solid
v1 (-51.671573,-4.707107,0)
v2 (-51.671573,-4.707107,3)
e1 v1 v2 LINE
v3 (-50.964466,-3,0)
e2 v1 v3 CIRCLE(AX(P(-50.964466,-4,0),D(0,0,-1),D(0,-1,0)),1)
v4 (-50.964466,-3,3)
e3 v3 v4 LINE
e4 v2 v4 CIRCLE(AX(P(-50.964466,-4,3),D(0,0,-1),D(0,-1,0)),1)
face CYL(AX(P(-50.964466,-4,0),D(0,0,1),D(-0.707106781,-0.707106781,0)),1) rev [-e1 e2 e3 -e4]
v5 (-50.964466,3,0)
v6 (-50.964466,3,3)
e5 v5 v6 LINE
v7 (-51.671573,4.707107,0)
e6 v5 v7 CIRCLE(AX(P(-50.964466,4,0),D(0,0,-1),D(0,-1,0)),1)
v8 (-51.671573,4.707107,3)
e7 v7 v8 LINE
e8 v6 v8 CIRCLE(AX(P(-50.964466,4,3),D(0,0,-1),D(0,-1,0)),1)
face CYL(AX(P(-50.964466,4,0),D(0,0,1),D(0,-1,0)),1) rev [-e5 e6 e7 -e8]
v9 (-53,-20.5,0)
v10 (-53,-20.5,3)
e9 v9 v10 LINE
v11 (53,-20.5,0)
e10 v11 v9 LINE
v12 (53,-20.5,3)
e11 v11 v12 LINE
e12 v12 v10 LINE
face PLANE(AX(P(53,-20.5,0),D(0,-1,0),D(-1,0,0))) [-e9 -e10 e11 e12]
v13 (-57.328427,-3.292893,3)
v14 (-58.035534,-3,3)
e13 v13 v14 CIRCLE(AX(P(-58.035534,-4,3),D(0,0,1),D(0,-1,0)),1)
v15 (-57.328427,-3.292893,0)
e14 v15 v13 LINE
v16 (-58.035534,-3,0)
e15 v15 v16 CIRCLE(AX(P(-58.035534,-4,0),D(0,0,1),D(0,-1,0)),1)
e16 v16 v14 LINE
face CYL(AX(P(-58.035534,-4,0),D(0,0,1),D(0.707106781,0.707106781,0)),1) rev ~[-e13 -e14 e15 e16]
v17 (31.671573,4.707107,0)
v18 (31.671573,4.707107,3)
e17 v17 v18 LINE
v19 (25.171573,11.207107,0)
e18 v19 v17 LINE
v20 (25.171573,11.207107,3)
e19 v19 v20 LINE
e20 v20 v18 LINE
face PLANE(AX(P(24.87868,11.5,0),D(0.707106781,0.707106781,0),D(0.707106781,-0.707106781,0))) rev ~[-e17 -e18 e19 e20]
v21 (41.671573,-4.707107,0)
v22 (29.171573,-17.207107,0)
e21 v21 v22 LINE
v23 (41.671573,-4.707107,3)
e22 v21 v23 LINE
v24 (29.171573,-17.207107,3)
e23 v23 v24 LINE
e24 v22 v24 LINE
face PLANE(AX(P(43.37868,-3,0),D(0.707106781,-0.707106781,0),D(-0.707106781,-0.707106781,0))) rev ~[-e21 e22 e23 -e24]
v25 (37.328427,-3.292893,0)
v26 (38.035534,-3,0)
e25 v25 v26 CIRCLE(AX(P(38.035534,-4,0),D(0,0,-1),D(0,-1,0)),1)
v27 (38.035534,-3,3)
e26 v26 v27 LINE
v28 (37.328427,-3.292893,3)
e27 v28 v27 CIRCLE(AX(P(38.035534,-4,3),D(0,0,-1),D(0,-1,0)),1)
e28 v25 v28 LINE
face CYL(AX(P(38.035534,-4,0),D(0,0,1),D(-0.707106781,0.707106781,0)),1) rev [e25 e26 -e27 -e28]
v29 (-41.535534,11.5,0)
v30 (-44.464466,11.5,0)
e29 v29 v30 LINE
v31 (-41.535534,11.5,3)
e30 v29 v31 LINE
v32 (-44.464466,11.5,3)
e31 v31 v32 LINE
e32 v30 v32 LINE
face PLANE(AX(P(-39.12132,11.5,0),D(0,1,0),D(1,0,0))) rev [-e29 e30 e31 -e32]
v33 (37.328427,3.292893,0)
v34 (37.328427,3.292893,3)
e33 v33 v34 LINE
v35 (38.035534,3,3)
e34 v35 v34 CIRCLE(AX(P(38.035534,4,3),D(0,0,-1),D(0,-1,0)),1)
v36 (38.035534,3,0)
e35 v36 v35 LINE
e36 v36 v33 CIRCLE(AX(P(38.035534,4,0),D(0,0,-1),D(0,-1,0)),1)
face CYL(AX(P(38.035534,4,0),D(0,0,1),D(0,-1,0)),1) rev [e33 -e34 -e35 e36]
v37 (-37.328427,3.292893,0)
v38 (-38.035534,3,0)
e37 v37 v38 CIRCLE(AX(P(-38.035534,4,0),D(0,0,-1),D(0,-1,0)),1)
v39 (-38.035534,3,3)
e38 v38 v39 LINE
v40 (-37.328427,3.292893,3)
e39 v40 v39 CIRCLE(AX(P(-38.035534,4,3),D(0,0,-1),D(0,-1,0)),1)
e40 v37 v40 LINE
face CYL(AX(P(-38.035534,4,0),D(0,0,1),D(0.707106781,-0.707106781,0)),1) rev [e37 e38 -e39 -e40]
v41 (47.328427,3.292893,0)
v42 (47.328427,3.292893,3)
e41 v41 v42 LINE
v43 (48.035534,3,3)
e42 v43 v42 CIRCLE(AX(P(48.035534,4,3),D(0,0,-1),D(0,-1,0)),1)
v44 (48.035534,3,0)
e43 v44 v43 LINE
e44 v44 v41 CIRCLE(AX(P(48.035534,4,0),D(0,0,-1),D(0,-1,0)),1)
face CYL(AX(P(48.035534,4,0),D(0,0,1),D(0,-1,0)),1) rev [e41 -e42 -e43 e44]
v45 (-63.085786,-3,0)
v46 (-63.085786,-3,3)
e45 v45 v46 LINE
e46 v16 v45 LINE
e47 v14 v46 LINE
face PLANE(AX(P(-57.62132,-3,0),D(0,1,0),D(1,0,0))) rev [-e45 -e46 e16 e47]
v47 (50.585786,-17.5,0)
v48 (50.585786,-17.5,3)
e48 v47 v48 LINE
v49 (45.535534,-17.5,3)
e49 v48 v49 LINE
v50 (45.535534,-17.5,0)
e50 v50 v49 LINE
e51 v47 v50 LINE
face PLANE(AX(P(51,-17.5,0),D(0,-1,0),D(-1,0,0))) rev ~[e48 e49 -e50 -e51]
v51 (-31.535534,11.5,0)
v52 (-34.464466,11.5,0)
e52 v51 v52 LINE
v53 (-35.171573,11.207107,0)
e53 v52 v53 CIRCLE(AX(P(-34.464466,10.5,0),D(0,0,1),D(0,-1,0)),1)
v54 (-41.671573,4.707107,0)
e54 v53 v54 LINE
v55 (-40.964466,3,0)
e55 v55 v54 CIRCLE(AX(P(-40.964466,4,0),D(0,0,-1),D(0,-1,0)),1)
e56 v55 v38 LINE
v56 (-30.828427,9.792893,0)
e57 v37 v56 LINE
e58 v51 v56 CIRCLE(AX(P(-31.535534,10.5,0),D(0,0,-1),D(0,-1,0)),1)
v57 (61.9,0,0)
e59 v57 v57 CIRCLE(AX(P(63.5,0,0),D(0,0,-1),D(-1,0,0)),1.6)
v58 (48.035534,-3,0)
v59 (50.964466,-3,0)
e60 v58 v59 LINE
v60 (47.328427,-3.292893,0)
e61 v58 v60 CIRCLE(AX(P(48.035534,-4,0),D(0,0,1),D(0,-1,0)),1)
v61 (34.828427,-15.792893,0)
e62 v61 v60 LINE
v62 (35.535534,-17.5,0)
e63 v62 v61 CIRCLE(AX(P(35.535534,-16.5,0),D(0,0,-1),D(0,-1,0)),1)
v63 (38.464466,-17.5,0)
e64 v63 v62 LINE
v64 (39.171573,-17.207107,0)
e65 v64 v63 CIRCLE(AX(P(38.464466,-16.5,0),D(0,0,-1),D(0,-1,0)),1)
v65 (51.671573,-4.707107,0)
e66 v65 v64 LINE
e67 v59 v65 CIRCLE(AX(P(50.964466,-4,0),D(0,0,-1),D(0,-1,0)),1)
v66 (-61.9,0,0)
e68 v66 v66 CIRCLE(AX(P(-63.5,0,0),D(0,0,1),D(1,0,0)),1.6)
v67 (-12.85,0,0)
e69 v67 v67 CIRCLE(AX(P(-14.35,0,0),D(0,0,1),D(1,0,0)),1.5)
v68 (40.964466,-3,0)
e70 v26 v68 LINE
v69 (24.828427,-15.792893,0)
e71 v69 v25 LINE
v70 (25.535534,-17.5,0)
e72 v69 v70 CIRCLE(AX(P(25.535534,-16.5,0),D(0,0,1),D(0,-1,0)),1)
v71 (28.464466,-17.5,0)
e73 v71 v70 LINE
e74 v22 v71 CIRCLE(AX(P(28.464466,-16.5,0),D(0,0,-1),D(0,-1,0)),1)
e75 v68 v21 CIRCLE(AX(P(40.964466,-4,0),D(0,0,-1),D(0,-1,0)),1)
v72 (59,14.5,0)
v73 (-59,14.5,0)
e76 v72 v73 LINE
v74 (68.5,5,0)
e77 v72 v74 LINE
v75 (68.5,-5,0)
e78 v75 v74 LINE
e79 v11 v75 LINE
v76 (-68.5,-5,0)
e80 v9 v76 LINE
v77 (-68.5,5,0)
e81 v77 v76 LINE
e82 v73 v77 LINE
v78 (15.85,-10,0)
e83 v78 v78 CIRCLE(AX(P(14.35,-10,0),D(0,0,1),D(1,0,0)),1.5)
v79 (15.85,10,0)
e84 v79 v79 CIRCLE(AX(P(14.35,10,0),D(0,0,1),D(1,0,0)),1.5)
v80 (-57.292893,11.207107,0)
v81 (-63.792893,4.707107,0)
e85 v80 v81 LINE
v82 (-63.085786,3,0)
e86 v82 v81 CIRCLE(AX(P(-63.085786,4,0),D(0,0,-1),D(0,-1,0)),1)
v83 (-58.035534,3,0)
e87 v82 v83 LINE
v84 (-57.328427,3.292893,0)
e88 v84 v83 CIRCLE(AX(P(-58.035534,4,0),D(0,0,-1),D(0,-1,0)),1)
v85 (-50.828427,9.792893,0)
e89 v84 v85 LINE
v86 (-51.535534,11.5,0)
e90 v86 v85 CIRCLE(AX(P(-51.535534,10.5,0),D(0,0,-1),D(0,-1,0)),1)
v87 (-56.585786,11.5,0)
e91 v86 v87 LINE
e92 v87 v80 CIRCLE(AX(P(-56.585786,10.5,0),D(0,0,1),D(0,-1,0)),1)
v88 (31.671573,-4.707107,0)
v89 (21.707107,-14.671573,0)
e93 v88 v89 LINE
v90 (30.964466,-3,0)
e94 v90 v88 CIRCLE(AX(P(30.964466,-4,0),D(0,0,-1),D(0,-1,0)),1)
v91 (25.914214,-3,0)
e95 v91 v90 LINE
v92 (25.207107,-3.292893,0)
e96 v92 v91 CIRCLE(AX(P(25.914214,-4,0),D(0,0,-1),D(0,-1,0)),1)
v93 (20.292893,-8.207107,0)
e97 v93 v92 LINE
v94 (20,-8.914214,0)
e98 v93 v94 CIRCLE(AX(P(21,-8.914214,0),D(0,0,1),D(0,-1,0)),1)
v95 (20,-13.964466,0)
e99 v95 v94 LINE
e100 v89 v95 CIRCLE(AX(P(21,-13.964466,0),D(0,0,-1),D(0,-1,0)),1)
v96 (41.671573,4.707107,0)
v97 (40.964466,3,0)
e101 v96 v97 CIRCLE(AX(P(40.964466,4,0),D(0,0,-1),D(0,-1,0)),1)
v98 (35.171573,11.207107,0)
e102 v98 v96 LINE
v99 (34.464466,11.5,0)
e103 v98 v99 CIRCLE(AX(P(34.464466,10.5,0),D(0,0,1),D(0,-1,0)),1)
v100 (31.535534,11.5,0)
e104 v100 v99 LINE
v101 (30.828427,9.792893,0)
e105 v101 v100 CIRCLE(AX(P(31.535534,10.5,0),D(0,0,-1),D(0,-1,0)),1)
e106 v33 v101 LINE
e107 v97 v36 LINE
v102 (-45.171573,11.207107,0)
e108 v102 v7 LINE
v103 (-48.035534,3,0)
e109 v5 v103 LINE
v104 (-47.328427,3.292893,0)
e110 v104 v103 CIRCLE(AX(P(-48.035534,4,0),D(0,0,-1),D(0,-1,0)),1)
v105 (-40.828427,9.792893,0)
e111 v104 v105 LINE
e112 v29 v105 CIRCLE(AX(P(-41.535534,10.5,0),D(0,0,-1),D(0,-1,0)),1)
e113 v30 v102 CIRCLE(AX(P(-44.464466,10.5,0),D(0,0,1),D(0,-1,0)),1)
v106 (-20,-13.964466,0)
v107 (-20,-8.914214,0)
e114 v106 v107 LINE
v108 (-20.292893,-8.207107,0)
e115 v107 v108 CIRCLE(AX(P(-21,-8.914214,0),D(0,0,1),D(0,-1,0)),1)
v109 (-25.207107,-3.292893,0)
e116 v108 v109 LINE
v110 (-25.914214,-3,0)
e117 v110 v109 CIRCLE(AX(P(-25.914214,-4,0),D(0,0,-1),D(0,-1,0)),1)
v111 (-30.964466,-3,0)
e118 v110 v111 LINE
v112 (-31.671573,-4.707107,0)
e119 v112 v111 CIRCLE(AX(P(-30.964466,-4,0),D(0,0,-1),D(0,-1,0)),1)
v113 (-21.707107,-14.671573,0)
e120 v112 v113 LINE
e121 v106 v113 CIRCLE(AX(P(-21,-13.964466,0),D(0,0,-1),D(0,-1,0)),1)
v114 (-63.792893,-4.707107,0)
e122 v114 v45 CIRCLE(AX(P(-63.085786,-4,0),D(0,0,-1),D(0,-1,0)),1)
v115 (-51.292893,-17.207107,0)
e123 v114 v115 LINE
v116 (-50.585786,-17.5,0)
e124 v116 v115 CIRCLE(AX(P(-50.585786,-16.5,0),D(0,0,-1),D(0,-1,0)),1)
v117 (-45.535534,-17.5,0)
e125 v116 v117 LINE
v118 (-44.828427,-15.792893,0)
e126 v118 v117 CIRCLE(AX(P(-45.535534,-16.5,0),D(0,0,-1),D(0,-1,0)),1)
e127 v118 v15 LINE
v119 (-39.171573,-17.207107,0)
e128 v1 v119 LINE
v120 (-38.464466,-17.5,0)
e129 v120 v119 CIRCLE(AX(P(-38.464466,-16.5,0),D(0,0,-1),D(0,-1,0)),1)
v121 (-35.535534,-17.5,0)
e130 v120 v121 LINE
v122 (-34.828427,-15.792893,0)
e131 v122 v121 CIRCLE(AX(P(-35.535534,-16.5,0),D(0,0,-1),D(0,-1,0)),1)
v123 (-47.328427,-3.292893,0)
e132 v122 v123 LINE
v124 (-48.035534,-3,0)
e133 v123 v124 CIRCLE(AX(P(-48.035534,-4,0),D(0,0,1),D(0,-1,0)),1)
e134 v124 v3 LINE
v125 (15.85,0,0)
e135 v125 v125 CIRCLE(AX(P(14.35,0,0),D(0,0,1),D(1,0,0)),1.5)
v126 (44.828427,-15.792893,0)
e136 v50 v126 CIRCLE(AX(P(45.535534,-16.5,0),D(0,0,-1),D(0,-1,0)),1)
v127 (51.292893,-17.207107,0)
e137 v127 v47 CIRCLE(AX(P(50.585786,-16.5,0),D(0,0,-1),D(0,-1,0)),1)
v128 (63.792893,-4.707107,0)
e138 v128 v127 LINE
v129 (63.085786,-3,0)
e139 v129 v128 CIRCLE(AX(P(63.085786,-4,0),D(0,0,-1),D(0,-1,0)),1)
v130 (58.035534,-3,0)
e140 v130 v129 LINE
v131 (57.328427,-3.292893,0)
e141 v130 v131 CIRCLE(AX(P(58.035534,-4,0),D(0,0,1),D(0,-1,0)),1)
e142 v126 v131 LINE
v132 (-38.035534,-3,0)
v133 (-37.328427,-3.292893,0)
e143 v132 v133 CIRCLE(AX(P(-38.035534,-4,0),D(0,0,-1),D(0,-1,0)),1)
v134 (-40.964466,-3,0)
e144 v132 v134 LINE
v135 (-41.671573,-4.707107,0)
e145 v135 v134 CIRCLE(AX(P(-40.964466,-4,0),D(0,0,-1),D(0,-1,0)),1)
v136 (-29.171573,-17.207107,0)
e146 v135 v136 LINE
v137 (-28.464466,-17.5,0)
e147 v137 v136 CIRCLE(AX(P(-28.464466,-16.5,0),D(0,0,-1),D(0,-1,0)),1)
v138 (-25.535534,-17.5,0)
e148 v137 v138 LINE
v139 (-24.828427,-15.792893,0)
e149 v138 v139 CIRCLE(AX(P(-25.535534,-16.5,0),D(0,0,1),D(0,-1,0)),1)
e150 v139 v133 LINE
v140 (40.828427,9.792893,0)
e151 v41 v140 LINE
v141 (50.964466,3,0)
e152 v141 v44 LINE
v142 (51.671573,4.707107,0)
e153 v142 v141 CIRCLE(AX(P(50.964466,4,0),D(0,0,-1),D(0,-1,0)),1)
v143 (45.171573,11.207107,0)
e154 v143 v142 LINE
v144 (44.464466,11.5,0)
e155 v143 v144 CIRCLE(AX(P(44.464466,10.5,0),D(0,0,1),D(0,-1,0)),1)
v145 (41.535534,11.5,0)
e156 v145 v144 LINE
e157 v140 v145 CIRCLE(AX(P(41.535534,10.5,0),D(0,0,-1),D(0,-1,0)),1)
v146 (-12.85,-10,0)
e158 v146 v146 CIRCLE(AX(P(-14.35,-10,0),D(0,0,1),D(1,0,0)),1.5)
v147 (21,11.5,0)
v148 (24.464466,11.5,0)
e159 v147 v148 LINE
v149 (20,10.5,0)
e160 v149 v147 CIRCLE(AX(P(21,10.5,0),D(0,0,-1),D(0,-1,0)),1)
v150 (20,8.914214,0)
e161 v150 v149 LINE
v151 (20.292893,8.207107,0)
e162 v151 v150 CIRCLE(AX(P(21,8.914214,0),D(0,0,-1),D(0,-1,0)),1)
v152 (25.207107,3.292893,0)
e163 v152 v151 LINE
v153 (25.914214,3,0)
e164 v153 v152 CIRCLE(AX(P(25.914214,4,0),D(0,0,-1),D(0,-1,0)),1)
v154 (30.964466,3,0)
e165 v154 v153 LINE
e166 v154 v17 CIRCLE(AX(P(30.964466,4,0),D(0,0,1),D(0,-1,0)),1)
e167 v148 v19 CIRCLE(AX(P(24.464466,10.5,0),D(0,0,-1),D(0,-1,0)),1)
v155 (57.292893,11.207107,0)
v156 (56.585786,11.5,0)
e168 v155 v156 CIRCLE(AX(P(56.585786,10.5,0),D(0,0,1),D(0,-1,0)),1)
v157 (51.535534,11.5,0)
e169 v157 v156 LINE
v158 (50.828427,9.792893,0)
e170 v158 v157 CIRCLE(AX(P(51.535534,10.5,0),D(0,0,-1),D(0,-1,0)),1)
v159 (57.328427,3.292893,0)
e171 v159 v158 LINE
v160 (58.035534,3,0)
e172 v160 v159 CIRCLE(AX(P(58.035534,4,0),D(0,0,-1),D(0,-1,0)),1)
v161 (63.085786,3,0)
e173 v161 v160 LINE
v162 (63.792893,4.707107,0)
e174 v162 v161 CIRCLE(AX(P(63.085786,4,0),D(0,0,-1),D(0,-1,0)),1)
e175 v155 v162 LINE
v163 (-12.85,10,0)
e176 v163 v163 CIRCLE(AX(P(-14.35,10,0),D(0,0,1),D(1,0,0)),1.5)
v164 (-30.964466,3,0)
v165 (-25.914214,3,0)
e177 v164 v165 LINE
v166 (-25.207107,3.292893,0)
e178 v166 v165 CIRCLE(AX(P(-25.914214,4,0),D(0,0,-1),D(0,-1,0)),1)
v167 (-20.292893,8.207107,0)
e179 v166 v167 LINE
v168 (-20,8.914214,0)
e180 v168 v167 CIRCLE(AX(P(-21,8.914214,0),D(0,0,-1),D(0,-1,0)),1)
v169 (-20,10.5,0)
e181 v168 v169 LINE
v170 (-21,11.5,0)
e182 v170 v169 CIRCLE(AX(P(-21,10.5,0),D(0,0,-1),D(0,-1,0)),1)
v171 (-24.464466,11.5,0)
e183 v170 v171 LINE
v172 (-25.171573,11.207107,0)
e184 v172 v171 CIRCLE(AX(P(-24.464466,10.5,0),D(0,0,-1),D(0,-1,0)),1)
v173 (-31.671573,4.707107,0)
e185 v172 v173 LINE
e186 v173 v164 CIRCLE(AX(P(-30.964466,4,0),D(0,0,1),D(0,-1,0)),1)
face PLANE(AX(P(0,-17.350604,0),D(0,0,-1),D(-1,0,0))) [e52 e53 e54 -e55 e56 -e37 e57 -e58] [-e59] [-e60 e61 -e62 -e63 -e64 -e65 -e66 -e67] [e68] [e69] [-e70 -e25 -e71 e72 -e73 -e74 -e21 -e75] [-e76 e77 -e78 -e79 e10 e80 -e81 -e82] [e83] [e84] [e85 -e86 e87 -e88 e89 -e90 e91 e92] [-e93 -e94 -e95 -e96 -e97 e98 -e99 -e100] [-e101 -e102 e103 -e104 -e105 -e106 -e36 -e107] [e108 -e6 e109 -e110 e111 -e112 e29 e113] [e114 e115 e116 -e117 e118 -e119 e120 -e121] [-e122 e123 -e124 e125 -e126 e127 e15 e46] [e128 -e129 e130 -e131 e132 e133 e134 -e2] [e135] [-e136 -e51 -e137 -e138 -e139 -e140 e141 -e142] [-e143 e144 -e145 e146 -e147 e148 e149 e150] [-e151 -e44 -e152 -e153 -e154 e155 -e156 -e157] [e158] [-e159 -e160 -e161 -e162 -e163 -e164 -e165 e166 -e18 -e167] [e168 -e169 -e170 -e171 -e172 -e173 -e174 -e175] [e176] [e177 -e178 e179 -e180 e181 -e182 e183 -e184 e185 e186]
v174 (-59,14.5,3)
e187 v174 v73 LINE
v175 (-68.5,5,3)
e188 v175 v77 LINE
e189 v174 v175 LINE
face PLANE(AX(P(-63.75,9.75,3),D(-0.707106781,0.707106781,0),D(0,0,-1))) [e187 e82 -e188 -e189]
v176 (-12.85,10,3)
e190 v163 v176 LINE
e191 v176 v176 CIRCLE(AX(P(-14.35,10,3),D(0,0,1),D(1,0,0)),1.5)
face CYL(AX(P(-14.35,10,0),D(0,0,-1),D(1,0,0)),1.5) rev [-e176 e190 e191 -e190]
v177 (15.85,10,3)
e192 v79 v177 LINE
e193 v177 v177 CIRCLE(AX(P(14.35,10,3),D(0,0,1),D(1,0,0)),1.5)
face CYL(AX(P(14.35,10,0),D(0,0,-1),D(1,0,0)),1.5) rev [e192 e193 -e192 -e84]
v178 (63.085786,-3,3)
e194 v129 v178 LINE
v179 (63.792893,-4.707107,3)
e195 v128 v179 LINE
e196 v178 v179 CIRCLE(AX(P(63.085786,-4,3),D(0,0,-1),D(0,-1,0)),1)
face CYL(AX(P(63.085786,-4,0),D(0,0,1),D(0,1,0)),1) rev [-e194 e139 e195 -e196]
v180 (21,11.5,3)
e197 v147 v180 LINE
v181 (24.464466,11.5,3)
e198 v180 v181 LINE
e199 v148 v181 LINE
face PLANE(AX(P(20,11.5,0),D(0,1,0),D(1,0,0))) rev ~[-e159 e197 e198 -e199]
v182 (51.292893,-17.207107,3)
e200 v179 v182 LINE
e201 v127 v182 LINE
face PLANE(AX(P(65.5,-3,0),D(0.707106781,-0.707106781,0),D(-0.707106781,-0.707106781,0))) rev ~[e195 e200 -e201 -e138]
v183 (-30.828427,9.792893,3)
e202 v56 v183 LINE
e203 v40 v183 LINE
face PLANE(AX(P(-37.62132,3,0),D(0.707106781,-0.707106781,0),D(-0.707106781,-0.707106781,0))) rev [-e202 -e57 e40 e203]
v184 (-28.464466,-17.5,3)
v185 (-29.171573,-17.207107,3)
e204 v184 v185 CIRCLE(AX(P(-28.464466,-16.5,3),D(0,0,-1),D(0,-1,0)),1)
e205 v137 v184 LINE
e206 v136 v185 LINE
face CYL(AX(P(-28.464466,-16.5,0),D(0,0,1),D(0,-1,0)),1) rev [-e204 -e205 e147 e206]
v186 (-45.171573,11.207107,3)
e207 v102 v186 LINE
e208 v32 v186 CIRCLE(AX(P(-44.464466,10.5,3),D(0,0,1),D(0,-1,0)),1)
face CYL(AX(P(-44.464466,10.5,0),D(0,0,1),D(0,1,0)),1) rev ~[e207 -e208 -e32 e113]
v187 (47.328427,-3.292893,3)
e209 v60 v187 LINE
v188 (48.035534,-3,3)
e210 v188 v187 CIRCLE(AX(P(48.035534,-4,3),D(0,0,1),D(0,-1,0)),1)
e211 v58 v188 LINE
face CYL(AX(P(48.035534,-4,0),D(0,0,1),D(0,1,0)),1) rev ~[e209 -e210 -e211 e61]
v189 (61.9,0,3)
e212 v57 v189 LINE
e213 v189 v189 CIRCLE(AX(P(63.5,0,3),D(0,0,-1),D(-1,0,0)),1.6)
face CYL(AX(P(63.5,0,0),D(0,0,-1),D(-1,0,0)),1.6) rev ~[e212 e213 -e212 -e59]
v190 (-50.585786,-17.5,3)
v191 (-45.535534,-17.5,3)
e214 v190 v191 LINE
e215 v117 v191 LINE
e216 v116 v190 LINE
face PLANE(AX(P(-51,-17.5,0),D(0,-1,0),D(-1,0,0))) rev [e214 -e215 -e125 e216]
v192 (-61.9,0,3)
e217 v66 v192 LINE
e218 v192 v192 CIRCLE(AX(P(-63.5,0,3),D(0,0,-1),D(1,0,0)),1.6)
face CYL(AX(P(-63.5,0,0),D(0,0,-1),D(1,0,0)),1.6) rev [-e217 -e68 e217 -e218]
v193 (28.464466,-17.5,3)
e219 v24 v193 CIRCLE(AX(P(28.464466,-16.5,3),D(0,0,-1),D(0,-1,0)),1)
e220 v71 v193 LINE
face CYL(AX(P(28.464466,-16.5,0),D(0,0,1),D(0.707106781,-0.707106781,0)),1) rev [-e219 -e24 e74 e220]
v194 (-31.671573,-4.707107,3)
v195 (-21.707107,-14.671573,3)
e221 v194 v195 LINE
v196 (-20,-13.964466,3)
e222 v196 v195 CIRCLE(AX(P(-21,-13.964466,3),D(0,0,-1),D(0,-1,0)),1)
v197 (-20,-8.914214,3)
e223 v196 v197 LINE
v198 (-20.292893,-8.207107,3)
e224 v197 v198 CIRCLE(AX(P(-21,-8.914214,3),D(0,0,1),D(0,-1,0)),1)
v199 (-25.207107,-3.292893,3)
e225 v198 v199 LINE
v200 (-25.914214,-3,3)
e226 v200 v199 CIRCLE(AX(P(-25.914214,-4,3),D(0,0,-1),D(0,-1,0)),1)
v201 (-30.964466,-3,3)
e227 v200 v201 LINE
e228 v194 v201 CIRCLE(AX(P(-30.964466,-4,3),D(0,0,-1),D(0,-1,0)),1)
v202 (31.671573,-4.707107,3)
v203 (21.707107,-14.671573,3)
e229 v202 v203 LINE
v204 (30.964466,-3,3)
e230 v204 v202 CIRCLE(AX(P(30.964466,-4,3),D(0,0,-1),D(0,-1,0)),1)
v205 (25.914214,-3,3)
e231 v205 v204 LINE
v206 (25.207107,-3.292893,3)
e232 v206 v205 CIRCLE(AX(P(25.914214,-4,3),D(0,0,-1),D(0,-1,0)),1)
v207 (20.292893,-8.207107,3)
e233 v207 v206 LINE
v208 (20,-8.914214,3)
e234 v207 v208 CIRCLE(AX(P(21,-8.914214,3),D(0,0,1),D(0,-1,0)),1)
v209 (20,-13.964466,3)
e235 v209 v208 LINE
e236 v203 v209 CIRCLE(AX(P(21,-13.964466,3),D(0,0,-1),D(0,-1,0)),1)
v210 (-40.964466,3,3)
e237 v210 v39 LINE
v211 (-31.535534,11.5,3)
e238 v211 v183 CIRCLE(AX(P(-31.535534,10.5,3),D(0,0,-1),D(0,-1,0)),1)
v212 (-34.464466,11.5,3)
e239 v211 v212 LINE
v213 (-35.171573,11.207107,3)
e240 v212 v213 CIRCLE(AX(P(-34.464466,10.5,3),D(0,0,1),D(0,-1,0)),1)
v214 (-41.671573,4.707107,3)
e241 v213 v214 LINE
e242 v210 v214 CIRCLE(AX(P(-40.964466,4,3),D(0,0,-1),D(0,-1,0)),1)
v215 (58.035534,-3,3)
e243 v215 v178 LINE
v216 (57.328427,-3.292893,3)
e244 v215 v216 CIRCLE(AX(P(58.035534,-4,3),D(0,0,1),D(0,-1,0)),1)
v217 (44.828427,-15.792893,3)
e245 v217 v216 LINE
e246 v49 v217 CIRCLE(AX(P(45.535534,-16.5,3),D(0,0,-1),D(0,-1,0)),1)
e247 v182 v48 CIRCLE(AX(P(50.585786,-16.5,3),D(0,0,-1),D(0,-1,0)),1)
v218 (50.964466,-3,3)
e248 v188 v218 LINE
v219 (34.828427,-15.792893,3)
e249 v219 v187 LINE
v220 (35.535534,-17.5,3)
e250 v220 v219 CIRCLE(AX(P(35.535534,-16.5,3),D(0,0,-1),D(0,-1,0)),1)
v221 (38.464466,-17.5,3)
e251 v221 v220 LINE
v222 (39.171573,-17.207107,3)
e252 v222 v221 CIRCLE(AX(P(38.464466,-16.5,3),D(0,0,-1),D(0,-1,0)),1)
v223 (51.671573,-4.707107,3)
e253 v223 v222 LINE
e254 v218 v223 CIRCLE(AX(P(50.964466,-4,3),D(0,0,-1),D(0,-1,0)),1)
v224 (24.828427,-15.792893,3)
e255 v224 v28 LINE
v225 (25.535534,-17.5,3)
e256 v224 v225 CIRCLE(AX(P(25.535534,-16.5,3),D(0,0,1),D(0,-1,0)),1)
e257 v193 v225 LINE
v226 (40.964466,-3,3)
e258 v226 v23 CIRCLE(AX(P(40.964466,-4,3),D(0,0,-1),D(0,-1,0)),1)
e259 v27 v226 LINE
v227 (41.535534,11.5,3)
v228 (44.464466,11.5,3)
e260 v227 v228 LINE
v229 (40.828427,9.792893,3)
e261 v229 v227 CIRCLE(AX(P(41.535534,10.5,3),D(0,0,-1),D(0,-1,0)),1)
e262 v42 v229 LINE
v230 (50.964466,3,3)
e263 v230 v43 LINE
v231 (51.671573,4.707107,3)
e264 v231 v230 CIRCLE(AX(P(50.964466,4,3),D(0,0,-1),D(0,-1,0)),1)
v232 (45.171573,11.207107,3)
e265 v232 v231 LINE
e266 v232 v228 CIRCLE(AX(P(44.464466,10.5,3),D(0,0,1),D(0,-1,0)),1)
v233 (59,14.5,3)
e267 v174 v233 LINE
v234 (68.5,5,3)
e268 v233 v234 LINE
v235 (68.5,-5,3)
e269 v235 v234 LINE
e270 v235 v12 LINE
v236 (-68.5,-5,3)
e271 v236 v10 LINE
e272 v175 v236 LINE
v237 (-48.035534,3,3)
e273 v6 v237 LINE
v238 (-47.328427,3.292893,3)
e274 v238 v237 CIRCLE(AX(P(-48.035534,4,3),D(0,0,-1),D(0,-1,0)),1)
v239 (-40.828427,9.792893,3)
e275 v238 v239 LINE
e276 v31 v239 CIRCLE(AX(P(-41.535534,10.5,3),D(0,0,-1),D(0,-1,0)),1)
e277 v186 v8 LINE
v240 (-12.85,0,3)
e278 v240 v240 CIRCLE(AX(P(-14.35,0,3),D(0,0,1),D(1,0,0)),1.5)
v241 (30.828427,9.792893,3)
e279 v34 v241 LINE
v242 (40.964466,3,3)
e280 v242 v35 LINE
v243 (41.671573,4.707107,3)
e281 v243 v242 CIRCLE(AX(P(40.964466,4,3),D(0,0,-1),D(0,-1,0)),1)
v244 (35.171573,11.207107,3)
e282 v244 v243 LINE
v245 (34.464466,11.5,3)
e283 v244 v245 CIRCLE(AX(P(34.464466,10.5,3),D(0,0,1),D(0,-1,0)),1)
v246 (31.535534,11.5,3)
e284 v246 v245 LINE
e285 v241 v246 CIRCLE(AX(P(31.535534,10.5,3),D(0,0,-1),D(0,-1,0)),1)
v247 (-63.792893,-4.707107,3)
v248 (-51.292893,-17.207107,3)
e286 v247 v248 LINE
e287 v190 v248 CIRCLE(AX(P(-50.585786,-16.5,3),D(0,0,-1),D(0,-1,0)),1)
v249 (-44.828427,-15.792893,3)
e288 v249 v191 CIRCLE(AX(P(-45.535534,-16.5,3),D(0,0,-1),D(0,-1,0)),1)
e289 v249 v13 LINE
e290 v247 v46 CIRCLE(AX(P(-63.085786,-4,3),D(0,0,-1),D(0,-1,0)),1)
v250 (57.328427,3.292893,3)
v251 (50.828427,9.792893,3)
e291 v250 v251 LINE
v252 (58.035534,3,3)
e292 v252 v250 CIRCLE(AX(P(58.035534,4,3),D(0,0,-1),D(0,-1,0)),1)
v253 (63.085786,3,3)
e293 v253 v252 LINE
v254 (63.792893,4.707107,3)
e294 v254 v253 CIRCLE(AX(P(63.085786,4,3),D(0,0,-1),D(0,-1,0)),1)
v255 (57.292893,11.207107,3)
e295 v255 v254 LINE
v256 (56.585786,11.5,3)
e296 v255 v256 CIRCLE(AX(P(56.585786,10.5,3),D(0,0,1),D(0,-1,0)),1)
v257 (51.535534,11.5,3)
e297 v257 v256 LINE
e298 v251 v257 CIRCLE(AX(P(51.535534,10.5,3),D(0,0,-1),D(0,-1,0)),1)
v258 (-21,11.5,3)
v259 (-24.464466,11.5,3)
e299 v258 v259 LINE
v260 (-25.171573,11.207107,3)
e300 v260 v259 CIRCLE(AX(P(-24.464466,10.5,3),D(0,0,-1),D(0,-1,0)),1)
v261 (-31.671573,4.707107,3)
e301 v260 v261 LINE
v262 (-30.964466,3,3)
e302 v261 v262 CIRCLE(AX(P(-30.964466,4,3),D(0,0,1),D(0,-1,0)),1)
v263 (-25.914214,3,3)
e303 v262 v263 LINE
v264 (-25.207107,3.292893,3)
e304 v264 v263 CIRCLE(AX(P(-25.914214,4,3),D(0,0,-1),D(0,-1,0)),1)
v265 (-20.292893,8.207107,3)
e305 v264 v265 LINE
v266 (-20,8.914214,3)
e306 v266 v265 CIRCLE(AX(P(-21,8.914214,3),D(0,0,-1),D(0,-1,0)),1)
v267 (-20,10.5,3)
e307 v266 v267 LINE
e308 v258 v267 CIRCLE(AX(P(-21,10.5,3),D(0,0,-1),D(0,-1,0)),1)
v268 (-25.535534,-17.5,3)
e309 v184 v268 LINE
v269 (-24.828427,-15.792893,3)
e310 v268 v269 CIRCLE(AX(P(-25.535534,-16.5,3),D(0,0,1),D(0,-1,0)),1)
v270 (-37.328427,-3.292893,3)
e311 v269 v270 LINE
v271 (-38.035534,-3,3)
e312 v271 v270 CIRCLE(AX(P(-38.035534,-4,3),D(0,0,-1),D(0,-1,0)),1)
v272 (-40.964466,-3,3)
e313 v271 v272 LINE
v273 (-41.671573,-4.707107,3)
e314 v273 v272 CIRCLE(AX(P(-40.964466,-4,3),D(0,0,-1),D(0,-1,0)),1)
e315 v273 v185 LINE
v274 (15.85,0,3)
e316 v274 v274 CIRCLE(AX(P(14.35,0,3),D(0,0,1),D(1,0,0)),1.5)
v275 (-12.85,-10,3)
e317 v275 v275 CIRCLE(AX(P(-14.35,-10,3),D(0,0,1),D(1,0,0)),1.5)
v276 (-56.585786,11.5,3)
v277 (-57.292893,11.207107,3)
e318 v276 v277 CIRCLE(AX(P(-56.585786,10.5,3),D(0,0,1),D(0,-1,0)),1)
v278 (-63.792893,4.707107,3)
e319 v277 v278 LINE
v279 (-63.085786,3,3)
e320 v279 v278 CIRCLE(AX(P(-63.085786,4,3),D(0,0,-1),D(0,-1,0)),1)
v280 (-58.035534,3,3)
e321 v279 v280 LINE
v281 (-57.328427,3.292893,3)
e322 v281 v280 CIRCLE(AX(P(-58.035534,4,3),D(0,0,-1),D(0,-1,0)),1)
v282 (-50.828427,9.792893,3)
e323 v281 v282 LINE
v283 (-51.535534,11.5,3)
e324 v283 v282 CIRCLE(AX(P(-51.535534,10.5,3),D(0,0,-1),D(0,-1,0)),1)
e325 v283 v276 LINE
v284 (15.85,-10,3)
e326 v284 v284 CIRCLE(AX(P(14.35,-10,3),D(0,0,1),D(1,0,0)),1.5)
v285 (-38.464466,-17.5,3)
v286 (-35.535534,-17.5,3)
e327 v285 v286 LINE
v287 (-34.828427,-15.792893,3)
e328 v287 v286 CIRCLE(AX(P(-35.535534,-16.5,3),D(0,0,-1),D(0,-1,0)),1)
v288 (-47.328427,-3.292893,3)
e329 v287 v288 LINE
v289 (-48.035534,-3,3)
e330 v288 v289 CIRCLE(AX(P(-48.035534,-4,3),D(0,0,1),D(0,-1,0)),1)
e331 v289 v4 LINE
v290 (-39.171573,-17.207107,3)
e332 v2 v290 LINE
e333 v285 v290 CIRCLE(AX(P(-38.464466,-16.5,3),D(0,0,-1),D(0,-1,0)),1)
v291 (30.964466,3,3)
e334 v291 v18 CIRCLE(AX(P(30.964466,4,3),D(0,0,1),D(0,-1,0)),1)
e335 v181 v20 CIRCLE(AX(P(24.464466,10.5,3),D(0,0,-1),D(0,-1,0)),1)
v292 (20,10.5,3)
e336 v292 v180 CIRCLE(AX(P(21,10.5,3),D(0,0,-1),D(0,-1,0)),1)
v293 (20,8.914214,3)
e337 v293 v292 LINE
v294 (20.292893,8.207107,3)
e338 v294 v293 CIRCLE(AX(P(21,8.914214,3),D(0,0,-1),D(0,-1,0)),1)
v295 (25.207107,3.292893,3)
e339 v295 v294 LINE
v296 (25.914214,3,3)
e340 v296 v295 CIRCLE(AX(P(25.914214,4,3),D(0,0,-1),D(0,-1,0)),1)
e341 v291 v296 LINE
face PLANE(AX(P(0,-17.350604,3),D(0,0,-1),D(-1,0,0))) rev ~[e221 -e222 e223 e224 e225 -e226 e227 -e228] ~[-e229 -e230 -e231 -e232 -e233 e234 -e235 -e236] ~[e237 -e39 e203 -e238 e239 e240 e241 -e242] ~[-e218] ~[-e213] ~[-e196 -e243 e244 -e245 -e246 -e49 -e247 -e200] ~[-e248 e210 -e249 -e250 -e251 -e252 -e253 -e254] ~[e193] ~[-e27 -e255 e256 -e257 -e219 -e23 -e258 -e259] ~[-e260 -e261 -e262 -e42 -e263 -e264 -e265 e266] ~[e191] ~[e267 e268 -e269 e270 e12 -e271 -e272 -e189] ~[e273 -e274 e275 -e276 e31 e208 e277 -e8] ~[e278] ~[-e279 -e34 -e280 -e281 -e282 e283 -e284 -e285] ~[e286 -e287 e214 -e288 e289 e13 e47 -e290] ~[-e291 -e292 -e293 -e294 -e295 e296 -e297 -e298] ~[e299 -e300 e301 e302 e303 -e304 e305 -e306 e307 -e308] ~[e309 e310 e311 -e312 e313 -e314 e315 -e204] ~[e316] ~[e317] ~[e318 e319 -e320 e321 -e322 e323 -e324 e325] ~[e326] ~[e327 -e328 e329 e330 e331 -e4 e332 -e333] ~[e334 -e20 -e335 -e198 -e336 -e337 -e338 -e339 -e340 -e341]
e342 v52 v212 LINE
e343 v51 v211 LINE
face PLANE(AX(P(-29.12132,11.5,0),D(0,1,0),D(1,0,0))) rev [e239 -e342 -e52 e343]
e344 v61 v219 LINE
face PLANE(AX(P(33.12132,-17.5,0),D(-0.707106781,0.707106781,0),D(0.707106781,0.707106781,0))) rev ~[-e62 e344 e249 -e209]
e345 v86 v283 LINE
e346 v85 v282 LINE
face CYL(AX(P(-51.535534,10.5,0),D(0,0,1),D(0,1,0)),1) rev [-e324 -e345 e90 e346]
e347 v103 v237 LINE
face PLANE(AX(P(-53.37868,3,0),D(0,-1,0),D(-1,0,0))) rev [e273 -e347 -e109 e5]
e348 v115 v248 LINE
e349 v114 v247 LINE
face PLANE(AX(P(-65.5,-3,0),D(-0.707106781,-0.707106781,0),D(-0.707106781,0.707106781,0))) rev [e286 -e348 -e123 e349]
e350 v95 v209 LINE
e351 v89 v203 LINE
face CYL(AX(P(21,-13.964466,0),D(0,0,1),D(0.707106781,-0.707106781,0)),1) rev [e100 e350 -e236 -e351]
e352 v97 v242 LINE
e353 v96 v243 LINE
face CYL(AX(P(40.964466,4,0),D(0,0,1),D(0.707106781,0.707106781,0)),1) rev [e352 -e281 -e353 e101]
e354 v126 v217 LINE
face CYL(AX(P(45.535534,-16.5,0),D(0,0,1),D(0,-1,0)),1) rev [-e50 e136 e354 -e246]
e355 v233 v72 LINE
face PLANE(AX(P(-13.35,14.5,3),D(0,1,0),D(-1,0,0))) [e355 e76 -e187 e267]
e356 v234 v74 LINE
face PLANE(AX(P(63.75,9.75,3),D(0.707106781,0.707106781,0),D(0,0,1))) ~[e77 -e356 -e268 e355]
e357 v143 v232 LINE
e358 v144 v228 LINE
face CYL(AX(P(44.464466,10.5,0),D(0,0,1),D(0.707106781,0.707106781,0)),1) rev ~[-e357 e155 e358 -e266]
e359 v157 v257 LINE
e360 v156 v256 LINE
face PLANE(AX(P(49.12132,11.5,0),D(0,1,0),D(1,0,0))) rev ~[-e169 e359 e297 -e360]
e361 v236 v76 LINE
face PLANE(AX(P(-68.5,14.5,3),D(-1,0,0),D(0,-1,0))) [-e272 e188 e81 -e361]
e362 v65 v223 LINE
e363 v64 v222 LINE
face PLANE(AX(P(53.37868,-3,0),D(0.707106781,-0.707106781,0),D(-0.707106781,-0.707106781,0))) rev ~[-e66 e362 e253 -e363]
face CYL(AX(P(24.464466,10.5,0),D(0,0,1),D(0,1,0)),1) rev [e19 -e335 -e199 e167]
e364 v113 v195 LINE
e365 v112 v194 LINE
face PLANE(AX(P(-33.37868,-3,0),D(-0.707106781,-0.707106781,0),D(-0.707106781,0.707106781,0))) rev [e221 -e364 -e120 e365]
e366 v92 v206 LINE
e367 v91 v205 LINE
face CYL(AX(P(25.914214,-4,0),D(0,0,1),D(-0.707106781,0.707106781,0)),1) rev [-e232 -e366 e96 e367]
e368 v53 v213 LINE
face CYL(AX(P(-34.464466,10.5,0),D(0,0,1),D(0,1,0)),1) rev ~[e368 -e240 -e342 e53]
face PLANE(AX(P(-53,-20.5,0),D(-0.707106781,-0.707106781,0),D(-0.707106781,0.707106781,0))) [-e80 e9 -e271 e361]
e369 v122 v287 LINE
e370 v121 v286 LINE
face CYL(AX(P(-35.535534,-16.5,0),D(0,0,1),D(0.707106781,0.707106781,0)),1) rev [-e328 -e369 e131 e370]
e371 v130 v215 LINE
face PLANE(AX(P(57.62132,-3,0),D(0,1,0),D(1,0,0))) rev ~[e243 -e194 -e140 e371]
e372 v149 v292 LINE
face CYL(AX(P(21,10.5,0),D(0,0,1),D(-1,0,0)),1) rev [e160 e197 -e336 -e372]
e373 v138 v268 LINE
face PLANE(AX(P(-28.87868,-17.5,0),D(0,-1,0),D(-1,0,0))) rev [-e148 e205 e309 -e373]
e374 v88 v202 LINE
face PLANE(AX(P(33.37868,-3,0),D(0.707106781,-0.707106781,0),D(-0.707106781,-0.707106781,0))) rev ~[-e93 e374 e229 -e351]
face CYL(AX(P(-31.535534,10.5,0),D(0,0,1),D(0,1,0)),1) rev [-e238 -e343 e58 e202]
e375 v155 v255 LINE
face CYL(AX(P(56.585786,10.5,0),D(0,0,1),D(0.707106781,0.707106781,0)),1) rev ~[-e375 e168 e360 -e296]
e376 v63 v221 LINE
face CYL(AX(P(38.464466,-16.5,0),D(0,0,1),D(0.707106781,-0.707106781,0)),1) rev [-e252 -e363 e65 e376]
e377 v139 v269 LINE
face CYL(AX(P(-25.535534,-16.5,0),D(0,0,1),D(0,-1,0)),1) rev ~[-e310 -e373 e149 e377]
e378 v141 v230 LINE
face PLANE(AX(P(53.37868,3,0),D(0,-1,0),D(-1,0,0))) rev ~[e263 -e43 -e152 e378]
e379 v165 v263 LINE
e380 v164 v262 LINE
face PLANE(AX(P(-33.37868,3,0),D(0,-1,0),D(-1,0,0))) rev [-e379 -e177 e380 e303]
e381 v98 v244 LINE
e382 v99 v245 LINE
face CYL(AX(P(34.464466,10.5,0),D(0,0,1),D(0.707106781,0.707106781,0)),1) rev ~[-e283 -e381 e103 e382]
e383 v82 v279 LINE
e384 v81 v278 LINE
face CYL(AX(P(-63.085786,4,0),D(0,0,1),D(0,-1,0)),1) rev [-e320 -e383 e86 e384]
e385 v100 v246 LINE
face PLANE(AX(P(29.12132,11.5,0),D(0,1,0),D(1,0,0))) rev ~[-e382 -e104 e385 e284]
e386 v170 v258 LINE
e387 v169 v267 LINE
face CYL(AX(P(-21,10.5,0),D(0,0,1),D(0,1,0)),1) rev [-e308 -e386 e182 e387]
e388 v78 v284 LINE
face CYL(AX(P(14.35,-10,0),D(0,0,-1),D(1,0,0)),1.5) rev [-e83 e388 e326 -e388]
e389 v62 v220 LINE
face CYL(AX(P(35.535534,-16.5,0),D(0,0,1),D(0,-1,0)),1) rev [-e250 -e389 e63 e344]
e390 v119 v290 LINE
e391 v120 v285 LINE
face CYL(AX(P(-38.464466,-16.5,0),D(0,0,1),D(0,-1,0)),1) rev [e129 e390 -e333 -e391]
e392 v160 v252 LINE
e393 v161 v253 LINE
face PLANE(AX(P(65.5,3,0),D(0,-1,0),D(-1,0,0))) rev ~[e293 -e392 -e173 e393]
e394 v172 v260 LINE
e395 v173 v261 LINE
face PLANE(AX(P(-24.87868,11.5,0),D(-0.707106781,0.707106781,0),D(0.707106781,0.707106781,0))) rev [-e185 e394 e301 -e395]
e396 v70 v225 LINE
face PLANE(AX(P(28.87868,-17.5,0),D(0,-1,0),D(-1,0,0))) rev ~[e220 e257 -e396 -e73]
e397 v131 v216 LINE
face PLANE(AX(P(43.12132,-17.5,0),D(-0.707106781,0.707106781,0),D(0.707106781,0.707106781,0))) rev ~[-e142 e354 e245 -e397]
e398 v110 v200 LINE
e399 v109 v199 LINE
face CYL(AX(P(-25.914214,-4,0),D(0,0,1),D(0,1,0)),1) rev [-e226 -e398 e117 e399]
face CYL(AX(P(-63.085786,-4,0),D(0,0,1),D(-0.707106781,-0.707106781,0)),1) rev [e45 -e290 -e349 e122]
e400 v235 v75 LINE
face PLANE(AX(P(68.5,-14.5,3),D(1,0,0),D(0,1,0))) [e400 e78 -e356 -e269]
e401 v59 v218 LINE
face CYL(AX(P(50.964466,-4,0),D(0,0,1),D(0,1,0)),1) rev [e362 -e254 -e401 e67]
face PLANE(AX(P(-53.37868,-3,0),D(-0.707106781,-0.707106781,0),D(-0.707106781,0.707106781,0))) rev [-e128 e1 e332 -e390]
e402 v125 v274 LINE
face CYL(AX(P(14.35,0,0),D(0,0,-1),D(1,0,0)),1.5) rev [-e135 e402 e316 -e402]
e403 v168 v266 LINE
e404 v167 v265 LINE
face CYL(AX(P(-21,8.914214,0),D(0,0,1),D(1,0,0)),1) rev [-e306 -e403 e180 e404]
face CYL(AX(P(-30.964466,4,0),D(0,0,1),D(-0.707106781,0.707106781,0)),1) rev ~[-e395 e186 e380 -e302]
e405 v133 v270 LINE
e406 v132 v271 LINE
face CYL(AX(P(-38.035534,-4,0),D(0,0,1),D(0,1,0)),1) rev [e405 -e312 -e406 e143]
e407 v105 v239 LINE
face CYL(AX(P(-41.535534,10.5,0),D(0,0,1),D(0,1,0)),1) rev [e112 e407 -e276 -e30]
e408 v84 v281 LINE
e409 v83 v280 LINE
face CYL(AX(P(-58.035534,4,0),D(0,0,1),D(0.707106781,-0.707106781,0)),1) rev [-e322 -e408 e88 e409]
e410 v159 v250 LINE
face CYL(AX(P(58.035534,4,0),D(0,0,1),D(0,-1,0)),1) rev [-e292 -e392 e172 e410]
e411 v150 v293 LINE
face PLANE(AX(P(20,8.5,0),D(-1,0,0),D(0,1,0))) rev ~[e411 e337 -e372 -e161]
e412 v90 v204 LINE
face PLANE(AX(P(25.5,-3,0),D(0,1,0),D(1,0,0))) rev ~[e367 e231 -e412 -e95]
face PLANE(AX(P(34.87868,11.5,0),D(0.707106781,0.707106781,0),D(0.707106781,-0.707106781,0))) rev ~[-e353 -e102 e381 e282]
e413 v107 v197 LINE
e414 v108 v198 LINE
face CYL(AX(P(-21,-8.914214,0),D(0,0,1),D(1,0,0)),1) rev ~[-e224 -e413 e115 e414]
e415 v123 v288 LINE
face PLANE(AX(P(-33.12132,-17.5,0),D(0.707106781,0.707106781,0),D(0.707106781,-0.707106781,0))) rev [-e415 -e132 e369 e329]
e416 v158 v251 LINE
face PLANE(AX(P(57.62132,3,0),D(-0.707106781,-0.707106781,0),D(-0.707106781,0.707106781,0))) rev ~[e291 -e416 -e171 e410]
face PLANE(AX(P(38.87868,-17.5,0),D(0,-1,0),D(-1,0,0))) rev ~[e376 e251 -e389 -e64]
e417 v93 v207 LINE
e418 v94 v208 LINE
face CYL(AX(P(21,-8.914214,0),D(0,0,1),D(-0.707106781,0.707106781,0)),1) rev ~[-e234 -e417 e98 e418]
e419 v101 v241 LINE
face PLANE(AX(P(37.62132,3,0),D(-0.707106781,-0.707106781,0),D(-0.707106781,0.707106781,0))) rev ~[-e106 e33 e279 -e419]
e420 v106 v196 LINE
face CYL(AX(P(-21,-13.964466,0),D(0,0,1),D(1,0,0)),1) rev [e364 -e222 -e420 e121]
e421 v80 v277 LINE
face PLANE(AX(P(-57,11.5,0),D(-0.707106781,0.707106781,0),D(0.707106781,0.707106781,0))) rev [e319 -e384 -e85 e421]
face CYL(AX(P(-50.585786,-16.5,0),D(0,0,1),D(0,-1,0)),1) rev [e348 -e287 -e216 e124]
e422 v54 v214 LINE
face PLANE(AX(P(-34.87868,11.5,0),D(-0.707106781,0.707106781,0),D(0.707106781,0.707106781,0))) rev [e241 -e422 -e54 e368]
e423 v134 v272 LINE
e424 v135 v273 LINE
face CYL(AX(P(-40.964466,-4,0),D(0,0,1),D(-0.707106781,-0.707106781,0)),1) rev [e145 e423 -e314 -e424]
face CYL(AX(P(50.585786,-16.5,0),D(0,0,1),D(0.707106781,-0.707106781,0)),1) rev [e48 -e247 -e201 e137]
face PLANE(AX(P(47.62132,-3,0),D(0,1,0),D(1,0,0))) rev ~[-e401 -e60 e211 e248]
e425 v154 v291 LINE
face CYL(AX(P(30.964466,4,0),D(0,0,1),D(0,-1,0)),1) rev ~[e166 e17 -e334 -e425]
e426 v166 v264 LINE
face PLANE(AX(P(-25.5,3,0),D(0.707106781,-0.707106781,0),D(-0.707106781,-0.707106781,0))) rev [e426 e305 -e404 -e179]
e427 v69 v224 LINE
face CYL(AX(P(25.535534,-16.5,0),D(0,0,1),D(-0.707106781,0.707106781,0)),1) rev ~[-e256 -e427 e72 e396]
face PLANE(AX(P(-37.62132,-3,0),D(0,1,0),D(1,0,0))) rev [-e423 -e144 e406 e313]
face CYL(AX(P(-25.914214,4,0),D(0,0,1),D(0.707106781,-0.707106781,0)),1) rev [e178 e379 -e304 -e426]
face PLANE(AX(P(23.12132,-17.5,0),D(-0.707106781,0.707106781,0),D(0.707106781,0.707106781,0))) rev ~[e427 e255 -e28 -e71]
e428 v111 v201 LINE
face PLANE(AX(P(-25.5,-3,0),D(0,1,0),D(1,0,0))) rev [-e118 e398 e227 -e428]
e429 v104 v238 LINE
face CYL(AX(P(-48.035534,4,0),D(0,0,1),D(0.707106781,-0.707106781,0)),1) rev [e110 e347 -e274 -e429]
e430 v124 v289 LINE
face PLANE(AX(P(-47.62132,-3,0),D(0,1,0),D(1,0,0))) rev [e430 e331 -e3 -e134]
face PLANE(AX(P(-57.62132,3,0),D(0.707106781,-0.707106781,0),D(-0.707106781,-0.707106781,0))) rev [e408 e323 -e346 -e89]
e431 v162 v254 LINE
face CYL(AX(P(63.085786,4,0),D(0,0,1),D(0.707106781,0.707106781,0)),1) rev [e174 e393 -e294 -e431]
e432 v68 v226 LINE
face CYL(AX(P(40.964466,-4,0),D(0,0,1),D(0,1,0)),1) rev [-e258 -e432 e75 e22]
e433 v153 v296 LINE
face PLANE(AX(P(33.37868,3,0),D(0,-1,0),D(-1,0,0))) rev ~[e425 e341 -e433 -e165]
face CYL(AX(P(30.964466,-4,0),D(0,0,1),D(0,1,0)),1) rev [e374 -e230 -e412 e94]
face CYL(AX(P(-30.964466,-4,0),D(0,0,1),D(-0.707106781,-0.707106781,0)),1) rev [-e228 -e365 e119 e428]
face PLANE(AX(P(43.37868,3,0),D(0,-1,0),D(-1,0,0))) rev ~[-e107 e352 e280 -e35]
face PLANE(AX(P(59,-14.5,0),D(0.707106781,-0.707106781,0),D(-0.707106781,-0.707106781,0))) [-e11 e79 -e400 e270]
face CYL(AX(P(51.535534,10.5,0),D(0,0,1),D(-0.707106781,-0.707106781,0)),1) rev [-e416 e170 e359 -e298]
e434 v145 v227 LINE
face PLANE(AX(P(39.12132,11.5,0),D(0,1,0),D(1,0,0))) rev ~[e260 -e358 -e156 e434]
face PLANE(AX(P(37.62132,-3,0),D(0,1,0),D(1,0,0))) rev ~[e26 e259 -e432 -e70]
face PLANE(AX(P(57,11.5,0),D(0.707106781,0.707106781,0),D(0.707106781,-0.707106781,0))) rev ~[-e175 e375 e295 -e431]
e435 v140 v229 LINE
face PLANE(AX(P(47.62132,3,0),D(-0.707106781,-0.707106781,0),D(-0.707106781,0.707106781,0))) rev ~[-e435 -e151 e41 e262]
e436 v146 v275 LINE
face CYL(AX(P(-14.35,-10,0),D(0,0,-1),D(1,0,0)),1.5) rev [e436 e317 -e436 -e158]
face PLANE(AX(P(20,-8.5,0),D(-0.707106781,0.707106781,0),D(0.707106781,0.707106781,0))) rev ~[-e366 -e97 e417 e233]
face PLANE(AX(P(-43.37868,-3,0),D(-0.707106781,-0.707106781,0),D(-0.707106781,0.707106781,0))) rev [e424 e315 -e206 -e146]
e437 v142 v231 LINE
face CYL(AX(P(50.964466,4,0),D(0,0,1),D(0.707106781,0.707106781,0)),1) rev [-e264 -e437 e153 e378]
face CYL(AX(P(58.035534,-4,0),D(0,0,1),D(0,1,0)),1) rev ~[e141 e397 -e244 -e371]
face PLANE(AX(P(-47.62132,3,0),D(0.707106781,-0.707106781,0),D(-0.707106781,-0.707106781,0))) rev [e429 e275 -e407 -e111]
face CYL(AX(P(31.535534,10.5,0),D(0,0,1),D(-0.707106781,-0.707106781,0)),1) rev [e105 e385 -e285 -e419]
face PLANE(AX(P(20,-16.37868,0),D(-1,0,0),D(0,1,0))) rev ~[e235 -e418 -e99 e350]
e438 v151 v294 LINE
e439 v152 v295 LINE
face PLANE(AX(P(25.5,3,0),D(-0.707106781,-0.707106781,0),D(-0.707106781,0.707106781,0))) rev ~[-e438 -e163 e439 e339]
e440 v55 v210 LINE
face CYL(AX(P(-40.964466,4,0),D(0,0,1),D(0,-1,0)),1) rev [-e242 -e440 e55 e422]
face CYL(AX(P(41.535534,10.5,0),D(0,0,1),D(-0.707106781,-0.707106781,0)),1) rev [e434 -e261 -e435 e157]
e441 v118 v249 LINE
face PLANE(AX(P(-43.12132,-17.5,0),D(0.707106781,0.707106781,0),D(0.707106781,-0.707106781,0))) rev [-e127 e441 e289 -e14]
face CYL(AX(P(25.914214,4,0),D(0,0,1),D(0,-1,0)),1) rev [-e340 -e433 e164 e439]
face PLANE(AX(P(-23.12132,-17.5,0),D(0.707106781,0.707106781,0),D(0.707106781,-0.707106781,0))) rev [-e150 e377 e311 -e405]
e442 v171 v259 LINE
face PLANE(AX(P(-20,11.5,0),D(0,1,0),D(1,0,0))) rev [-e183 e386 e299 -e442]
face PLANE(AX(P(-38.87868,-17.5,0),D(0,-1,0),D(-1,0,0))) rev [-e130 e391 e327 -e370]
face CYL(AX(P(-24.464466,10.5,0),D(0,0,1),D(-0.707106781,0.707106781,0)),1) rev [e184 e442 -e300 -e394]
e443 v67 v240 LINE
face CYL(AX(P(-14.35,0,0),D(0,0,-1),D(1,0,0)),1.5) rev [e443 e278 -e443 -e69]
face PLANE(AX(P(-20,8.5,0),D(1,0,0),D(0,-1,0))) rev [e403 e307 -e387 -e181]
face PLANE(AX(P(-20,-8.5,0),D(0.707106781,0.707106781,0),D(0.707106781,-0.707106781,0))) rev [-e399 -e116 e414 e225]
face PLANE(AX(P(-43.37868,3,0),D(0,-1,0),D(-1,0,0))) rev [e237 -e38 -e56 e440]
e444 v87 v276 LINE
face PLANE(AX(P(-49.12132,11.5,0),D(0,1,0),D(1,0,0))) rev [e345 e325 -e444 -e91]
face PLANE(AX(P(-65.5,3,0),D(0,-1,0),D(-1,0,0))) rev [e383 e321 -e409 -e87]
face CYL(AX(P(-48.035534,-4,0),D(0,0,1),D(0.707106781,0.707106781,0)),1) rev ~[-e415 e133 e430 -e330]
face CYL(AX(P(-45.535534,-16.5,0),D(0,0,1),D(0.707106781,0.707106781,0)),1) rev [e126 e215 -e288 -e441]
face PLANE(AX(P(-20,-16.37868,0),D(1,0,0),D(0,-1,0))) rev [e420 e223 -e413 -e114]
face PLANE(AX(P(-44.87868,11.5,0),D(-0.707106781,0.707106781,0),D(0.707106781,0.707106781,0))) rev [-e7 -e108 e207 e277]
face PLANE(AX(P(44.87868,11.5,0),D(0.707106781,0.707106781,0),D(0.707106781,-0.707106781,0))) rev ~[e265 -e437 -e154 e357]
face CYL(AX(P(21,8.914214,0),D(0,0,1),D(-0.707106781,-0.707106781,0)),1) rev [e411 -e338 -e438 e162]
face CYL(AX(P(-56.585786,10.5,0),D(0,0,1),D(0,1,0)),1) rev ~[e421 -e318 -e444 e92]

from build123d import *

# Parameters (mm, degrees)
SKETCH_1_W             = 32.7
SKETCH_1_H             = 29
SKETCH_1_R             = 1.5
EXTRUDE_1_DEPTH        = 3
CHAMFER_1_SIZE         = 3
EXTRUDE_2_DEPTH        = 3
CHAMFER_2_SIZE         = 9.5
EXTRUDE_3_DEPTH        = 3
SKETCH_6_R             = 1.6
CUT_EXTRUDE_2_DEPTH    = 4
CUT_EXTRUDE_4_DEPTH    = 10
FILLET_2_R             = 1
FILLET_2_OF_MIRROR_1_R = 1


with BuildPart() as part:
    # 草图1 → 凸台-拉伸1 (new body)
    with BuildSketch(Plane.XY):
        Rectangle(SKETCH_1_W, SKETCH_1_H)
        with Locations((-14.35, -10)):
            Circle(SKETCH_1_R, mode=Mode.SUBTRACT)
        with Locations((-14.35, 10)):
            Circle(SKETCH_1_R, mode=Mode.SUBTRACT)
        with Locations((14.35, 10)):
            Circle(SKETCH_1_R, mode=Mode.SUBTRACT)
        with Locations((14.35, -10)):
            Circle(SKETCH_1_R, mode=Mode.SUBTRACT)
        with Locations((-14.35, 0)):
            Circle(SKETCH_1_R, mode=Mode.SUBTRACT)
        with Locations((14.35, 0)):
            Circle(SKETCH_1_R, mode=Mode.SUBTRACT)
    extrude(amount=EXTRUDE_1_DEPTH)

    # 倒角1
    chamfer_1_edges = [part.edges().sort_by_distance(p)[0] for p in [
        (16.35, -14.5, 1.5),
        (-16.35, -14.5, 1.5),
        (-16.35, 14.5, 1.5),
        (16.35, 14.5, 1.5),
    ]]
    chamfer(chamfer_1_edges, length=CHAMFER_1_SIZE)

    # 草图3 → 凸台-拉伸2 (add)
    with BuildSketch(Plane.XY.offset(3)):
        Polygon((-13.35, 14.5), (-68.5, 14.5), (-68.5, -14.5), (-13.35, -14.5), (-16.35, -11.5), (-16.35, 11.5), align=None)
        Polygon((68.5, 14.5), (13.35, 14.5), (16.35, 11.5), (16.35, -11.5), (13.35, -14.5), (68.5, -14.5), align=None)
    extrude(amount=-EXTRUDE_2_DEPTH)

    # 倒角2
    chamfer_2_edges = [part.edges().sort_by_distance(p)[0] for p in [
        (-68.5, -14.5, 1.5),
        (-68.5, 14.5, 1.5),
        (68.5, -14.5, 1.5),
        (68.5, 14.5, 1.5),
    ]]
    chamfer(chamfer_2_edges, length=CHAMFER_2_SIZE)

    # 草图4 → 凸台-拉伸3 (add)
    with BuildSketch(Plane(origin=(0, 0, 0), x_dir=(-1, 0, 0), z_dir=(0, 0, -1))):
        Polygon((-59, -14.5), (-53, -20.5), (53, -20.5), (59, -14.5), align=None)
    extrude(amount=-EXTRUDE_3_DEPTH)

    # 草图6 → 切除-拉伸2 (cut, through all)
    with BuildSketch(Plane(origin=(0, 0, 0), x_dir=(-1, 0, 0), z_dir=(0, 0, -1))):
        with Locations((-63.5, 0)):
            Circle(SKETCH_6_R)
    cut_extrude_2 = extrude(amount=-CUT_EXTRUDE_2_DEPTH, mode=Mode.SUBTRACT)

    # 草图7 → 切除-拉伸4 (cut)
    with BuildSketch(Plane(origin=(0, 0, 0), x_dir=(-1, 0, 0), z_dir=(0, 0, -1))):
        Polygon((-57, 11.5), (-65.5, 3), (-57.621320344, 3), (-49.121320344, 11.5), align=None)
        Polygon((-57.621320344, -3), (-65.5, -3), (-51, -17.5), (-43.121320344, -17.5), align=None)
        Polygon((-47.621320344, -3), (-53.378679656, -3), (-38.878679656, -17.5), (-33.121320344, -17.5), align=None)
        Polygon((-44.878679656, 11.5), (-53.378679656, 3), (-47.621320344, 3), (-39.121320344, 11.5), align=None)
        Polygon((-34.878679656, 11.5), (-43.378679656, 3), (-37.621320344, 3), (-29.121320344, 11.5), align=None)
        Polygon((-23.121320344, -17.5), (-37.621320344, -3), (-43.378679656, -3), (-28.878679656, -17.5), align=None)
        Polygon((-20, -8.5), (-25.5, -3), (-33.378679656, -3), (-20, -16.378679656), align=None)
        Polygon((-33.378679656, 3), (-25.5, 3), (-20, 8.5), (-20, 11.5), (-23, 11.5), (-24.878679656, 11.5), align=None)
    cut_extrude_4 = extrude(amount=-CUT_EXTRUDE_4_DEPTH, mode=Mode.SUBTRACT)

    # 圆角2
    fillet_2_edges = [part.edges().sort_by_distance(p)[0] for p in [
        (53.378679656, -3, 1.5),
        (47.621320344, -3, 1.5),
        (33.121320344, -17.5, 1.5),
        (38.878679656, -17.5, 1.5),
        (57.621320344, -3, 1.5),
        (43.121320344, -17.5, 1.5),
        (51, -17.5, 1.5),
        (65.5, -3, 1.5),
        (37.621320344, 3, 1.5),
        (43.378679656, 3, 1.5),
        (34.878679656, 11.5, 1.5),
        (29.121320344, 11.5, 1.5),
        (47.621320344, 3, 1.5),
        (53.378679656, 3, 1.5),
        (44.878679656, 11.5, 1.5),
        (39.121320344, 11.5, 1.5),
        (33.378679656, -3, 1.5),
        (25.5, -3, 1.5),
        (20, -8.5, 1.5),
        (20, -16.378679656, 1.5),
        (43.378679656, -3, 1.5),
        (37.621320344, -3, 1.5),
        (23.121320344, -17.5, 1.5),
        (28.878679656, -17.5, 1.5),
        (33.378679656, 3, 1.5),
        (24.878679656, 11.5, 1.5),
        (20, 11.5, 1.5),
        (20, 8.5, 1.5),
        (25.5, 3, 1.5),
        (57.621320344, 3, 1.5),
        (65.5, 3, 1.5),
        (57, 11.5, 1.5),
        (49.121320344, 11.5, 1.5),
    ]]
    fillet(fillet_2_edges, radius=FILLET_2_R)

    # 镜向1: 切除-拉伸2, 切除-拉伸4 across plane
    add(cut_extrude_2.mirror(Plane(origin=(0, 0, 0), x_dir=(0, 0, 1), z_dir=(1, 0, 0))), mode=Mode.SUBTRACT)
    add(cut_extrude_4.mirror(Plane(origin=(0, 0, 0), x_dir=(0, 0, 1), z_dir=(1, 0, 0))), mode=Mode.SUBTRACT)

    # 圆角2 of 镜向1
    fillet_2_of_mirror_1_edges = [part.edges().sort_by_distance(p)[0] for p in [
        (-53.378679656, -3, 1.5),
        (-47.621320344, -3, 1.5),
        (-33.121320344, -17.5, 1.5),
        (-38.878679656, -17.5, 1.5),
        (-57.621320344, -3, 1.5),
        (-43.121320344, -17.5, 1.5),
        (-51, -17.5, 1.5),
        (-65.5, -3, 1.5),
        (-37.621320344, 3, 1.5),
        (-43.378679656, 3, 1.5),
        (-34.878679656, 11.5, 1.5),
        (-29.121320344, 11.5, 1.5),
        (-47.621320344, 3, 1.5),
        (-53.378679656, 3, 1.5),
        (-44.878679656, 11.5, 1.5),
        (-39.121320344, 11.5, 1.5),
        (-33.378679656, -3, 1.5),
        (-25.5, -3, 1.5),
        (-20, -8.5, 1.5),
        (-20, -16.378679656, 1.5),
        (-43.378679656, -3, 1.5),
        (-37.621320344, -3, 1.5),
        (-23.121320344, -17.5, 1.5),
        (-28.878679656, -17.5, 1.5),
        (-33.378679656, 3, 1.5),
        (-24.878679656, 11.5, 1.5),
        (-20, 11.5, 1.5),
        (-20, 8.5, 1.5),
        (-25.5, 3, 1.5),
        (-57.621320344, 3, 1.5),
        (-65.5, 3, 1.5),
        (-57, 11.5, 1.5),
        (-49.121320344, 11.5, 1.5),
    ]]
    fillet(fillet_2_of_mirror_1_edges, radius=FILLET_2_OF_MIRROR_1_R)


solid = part.part
